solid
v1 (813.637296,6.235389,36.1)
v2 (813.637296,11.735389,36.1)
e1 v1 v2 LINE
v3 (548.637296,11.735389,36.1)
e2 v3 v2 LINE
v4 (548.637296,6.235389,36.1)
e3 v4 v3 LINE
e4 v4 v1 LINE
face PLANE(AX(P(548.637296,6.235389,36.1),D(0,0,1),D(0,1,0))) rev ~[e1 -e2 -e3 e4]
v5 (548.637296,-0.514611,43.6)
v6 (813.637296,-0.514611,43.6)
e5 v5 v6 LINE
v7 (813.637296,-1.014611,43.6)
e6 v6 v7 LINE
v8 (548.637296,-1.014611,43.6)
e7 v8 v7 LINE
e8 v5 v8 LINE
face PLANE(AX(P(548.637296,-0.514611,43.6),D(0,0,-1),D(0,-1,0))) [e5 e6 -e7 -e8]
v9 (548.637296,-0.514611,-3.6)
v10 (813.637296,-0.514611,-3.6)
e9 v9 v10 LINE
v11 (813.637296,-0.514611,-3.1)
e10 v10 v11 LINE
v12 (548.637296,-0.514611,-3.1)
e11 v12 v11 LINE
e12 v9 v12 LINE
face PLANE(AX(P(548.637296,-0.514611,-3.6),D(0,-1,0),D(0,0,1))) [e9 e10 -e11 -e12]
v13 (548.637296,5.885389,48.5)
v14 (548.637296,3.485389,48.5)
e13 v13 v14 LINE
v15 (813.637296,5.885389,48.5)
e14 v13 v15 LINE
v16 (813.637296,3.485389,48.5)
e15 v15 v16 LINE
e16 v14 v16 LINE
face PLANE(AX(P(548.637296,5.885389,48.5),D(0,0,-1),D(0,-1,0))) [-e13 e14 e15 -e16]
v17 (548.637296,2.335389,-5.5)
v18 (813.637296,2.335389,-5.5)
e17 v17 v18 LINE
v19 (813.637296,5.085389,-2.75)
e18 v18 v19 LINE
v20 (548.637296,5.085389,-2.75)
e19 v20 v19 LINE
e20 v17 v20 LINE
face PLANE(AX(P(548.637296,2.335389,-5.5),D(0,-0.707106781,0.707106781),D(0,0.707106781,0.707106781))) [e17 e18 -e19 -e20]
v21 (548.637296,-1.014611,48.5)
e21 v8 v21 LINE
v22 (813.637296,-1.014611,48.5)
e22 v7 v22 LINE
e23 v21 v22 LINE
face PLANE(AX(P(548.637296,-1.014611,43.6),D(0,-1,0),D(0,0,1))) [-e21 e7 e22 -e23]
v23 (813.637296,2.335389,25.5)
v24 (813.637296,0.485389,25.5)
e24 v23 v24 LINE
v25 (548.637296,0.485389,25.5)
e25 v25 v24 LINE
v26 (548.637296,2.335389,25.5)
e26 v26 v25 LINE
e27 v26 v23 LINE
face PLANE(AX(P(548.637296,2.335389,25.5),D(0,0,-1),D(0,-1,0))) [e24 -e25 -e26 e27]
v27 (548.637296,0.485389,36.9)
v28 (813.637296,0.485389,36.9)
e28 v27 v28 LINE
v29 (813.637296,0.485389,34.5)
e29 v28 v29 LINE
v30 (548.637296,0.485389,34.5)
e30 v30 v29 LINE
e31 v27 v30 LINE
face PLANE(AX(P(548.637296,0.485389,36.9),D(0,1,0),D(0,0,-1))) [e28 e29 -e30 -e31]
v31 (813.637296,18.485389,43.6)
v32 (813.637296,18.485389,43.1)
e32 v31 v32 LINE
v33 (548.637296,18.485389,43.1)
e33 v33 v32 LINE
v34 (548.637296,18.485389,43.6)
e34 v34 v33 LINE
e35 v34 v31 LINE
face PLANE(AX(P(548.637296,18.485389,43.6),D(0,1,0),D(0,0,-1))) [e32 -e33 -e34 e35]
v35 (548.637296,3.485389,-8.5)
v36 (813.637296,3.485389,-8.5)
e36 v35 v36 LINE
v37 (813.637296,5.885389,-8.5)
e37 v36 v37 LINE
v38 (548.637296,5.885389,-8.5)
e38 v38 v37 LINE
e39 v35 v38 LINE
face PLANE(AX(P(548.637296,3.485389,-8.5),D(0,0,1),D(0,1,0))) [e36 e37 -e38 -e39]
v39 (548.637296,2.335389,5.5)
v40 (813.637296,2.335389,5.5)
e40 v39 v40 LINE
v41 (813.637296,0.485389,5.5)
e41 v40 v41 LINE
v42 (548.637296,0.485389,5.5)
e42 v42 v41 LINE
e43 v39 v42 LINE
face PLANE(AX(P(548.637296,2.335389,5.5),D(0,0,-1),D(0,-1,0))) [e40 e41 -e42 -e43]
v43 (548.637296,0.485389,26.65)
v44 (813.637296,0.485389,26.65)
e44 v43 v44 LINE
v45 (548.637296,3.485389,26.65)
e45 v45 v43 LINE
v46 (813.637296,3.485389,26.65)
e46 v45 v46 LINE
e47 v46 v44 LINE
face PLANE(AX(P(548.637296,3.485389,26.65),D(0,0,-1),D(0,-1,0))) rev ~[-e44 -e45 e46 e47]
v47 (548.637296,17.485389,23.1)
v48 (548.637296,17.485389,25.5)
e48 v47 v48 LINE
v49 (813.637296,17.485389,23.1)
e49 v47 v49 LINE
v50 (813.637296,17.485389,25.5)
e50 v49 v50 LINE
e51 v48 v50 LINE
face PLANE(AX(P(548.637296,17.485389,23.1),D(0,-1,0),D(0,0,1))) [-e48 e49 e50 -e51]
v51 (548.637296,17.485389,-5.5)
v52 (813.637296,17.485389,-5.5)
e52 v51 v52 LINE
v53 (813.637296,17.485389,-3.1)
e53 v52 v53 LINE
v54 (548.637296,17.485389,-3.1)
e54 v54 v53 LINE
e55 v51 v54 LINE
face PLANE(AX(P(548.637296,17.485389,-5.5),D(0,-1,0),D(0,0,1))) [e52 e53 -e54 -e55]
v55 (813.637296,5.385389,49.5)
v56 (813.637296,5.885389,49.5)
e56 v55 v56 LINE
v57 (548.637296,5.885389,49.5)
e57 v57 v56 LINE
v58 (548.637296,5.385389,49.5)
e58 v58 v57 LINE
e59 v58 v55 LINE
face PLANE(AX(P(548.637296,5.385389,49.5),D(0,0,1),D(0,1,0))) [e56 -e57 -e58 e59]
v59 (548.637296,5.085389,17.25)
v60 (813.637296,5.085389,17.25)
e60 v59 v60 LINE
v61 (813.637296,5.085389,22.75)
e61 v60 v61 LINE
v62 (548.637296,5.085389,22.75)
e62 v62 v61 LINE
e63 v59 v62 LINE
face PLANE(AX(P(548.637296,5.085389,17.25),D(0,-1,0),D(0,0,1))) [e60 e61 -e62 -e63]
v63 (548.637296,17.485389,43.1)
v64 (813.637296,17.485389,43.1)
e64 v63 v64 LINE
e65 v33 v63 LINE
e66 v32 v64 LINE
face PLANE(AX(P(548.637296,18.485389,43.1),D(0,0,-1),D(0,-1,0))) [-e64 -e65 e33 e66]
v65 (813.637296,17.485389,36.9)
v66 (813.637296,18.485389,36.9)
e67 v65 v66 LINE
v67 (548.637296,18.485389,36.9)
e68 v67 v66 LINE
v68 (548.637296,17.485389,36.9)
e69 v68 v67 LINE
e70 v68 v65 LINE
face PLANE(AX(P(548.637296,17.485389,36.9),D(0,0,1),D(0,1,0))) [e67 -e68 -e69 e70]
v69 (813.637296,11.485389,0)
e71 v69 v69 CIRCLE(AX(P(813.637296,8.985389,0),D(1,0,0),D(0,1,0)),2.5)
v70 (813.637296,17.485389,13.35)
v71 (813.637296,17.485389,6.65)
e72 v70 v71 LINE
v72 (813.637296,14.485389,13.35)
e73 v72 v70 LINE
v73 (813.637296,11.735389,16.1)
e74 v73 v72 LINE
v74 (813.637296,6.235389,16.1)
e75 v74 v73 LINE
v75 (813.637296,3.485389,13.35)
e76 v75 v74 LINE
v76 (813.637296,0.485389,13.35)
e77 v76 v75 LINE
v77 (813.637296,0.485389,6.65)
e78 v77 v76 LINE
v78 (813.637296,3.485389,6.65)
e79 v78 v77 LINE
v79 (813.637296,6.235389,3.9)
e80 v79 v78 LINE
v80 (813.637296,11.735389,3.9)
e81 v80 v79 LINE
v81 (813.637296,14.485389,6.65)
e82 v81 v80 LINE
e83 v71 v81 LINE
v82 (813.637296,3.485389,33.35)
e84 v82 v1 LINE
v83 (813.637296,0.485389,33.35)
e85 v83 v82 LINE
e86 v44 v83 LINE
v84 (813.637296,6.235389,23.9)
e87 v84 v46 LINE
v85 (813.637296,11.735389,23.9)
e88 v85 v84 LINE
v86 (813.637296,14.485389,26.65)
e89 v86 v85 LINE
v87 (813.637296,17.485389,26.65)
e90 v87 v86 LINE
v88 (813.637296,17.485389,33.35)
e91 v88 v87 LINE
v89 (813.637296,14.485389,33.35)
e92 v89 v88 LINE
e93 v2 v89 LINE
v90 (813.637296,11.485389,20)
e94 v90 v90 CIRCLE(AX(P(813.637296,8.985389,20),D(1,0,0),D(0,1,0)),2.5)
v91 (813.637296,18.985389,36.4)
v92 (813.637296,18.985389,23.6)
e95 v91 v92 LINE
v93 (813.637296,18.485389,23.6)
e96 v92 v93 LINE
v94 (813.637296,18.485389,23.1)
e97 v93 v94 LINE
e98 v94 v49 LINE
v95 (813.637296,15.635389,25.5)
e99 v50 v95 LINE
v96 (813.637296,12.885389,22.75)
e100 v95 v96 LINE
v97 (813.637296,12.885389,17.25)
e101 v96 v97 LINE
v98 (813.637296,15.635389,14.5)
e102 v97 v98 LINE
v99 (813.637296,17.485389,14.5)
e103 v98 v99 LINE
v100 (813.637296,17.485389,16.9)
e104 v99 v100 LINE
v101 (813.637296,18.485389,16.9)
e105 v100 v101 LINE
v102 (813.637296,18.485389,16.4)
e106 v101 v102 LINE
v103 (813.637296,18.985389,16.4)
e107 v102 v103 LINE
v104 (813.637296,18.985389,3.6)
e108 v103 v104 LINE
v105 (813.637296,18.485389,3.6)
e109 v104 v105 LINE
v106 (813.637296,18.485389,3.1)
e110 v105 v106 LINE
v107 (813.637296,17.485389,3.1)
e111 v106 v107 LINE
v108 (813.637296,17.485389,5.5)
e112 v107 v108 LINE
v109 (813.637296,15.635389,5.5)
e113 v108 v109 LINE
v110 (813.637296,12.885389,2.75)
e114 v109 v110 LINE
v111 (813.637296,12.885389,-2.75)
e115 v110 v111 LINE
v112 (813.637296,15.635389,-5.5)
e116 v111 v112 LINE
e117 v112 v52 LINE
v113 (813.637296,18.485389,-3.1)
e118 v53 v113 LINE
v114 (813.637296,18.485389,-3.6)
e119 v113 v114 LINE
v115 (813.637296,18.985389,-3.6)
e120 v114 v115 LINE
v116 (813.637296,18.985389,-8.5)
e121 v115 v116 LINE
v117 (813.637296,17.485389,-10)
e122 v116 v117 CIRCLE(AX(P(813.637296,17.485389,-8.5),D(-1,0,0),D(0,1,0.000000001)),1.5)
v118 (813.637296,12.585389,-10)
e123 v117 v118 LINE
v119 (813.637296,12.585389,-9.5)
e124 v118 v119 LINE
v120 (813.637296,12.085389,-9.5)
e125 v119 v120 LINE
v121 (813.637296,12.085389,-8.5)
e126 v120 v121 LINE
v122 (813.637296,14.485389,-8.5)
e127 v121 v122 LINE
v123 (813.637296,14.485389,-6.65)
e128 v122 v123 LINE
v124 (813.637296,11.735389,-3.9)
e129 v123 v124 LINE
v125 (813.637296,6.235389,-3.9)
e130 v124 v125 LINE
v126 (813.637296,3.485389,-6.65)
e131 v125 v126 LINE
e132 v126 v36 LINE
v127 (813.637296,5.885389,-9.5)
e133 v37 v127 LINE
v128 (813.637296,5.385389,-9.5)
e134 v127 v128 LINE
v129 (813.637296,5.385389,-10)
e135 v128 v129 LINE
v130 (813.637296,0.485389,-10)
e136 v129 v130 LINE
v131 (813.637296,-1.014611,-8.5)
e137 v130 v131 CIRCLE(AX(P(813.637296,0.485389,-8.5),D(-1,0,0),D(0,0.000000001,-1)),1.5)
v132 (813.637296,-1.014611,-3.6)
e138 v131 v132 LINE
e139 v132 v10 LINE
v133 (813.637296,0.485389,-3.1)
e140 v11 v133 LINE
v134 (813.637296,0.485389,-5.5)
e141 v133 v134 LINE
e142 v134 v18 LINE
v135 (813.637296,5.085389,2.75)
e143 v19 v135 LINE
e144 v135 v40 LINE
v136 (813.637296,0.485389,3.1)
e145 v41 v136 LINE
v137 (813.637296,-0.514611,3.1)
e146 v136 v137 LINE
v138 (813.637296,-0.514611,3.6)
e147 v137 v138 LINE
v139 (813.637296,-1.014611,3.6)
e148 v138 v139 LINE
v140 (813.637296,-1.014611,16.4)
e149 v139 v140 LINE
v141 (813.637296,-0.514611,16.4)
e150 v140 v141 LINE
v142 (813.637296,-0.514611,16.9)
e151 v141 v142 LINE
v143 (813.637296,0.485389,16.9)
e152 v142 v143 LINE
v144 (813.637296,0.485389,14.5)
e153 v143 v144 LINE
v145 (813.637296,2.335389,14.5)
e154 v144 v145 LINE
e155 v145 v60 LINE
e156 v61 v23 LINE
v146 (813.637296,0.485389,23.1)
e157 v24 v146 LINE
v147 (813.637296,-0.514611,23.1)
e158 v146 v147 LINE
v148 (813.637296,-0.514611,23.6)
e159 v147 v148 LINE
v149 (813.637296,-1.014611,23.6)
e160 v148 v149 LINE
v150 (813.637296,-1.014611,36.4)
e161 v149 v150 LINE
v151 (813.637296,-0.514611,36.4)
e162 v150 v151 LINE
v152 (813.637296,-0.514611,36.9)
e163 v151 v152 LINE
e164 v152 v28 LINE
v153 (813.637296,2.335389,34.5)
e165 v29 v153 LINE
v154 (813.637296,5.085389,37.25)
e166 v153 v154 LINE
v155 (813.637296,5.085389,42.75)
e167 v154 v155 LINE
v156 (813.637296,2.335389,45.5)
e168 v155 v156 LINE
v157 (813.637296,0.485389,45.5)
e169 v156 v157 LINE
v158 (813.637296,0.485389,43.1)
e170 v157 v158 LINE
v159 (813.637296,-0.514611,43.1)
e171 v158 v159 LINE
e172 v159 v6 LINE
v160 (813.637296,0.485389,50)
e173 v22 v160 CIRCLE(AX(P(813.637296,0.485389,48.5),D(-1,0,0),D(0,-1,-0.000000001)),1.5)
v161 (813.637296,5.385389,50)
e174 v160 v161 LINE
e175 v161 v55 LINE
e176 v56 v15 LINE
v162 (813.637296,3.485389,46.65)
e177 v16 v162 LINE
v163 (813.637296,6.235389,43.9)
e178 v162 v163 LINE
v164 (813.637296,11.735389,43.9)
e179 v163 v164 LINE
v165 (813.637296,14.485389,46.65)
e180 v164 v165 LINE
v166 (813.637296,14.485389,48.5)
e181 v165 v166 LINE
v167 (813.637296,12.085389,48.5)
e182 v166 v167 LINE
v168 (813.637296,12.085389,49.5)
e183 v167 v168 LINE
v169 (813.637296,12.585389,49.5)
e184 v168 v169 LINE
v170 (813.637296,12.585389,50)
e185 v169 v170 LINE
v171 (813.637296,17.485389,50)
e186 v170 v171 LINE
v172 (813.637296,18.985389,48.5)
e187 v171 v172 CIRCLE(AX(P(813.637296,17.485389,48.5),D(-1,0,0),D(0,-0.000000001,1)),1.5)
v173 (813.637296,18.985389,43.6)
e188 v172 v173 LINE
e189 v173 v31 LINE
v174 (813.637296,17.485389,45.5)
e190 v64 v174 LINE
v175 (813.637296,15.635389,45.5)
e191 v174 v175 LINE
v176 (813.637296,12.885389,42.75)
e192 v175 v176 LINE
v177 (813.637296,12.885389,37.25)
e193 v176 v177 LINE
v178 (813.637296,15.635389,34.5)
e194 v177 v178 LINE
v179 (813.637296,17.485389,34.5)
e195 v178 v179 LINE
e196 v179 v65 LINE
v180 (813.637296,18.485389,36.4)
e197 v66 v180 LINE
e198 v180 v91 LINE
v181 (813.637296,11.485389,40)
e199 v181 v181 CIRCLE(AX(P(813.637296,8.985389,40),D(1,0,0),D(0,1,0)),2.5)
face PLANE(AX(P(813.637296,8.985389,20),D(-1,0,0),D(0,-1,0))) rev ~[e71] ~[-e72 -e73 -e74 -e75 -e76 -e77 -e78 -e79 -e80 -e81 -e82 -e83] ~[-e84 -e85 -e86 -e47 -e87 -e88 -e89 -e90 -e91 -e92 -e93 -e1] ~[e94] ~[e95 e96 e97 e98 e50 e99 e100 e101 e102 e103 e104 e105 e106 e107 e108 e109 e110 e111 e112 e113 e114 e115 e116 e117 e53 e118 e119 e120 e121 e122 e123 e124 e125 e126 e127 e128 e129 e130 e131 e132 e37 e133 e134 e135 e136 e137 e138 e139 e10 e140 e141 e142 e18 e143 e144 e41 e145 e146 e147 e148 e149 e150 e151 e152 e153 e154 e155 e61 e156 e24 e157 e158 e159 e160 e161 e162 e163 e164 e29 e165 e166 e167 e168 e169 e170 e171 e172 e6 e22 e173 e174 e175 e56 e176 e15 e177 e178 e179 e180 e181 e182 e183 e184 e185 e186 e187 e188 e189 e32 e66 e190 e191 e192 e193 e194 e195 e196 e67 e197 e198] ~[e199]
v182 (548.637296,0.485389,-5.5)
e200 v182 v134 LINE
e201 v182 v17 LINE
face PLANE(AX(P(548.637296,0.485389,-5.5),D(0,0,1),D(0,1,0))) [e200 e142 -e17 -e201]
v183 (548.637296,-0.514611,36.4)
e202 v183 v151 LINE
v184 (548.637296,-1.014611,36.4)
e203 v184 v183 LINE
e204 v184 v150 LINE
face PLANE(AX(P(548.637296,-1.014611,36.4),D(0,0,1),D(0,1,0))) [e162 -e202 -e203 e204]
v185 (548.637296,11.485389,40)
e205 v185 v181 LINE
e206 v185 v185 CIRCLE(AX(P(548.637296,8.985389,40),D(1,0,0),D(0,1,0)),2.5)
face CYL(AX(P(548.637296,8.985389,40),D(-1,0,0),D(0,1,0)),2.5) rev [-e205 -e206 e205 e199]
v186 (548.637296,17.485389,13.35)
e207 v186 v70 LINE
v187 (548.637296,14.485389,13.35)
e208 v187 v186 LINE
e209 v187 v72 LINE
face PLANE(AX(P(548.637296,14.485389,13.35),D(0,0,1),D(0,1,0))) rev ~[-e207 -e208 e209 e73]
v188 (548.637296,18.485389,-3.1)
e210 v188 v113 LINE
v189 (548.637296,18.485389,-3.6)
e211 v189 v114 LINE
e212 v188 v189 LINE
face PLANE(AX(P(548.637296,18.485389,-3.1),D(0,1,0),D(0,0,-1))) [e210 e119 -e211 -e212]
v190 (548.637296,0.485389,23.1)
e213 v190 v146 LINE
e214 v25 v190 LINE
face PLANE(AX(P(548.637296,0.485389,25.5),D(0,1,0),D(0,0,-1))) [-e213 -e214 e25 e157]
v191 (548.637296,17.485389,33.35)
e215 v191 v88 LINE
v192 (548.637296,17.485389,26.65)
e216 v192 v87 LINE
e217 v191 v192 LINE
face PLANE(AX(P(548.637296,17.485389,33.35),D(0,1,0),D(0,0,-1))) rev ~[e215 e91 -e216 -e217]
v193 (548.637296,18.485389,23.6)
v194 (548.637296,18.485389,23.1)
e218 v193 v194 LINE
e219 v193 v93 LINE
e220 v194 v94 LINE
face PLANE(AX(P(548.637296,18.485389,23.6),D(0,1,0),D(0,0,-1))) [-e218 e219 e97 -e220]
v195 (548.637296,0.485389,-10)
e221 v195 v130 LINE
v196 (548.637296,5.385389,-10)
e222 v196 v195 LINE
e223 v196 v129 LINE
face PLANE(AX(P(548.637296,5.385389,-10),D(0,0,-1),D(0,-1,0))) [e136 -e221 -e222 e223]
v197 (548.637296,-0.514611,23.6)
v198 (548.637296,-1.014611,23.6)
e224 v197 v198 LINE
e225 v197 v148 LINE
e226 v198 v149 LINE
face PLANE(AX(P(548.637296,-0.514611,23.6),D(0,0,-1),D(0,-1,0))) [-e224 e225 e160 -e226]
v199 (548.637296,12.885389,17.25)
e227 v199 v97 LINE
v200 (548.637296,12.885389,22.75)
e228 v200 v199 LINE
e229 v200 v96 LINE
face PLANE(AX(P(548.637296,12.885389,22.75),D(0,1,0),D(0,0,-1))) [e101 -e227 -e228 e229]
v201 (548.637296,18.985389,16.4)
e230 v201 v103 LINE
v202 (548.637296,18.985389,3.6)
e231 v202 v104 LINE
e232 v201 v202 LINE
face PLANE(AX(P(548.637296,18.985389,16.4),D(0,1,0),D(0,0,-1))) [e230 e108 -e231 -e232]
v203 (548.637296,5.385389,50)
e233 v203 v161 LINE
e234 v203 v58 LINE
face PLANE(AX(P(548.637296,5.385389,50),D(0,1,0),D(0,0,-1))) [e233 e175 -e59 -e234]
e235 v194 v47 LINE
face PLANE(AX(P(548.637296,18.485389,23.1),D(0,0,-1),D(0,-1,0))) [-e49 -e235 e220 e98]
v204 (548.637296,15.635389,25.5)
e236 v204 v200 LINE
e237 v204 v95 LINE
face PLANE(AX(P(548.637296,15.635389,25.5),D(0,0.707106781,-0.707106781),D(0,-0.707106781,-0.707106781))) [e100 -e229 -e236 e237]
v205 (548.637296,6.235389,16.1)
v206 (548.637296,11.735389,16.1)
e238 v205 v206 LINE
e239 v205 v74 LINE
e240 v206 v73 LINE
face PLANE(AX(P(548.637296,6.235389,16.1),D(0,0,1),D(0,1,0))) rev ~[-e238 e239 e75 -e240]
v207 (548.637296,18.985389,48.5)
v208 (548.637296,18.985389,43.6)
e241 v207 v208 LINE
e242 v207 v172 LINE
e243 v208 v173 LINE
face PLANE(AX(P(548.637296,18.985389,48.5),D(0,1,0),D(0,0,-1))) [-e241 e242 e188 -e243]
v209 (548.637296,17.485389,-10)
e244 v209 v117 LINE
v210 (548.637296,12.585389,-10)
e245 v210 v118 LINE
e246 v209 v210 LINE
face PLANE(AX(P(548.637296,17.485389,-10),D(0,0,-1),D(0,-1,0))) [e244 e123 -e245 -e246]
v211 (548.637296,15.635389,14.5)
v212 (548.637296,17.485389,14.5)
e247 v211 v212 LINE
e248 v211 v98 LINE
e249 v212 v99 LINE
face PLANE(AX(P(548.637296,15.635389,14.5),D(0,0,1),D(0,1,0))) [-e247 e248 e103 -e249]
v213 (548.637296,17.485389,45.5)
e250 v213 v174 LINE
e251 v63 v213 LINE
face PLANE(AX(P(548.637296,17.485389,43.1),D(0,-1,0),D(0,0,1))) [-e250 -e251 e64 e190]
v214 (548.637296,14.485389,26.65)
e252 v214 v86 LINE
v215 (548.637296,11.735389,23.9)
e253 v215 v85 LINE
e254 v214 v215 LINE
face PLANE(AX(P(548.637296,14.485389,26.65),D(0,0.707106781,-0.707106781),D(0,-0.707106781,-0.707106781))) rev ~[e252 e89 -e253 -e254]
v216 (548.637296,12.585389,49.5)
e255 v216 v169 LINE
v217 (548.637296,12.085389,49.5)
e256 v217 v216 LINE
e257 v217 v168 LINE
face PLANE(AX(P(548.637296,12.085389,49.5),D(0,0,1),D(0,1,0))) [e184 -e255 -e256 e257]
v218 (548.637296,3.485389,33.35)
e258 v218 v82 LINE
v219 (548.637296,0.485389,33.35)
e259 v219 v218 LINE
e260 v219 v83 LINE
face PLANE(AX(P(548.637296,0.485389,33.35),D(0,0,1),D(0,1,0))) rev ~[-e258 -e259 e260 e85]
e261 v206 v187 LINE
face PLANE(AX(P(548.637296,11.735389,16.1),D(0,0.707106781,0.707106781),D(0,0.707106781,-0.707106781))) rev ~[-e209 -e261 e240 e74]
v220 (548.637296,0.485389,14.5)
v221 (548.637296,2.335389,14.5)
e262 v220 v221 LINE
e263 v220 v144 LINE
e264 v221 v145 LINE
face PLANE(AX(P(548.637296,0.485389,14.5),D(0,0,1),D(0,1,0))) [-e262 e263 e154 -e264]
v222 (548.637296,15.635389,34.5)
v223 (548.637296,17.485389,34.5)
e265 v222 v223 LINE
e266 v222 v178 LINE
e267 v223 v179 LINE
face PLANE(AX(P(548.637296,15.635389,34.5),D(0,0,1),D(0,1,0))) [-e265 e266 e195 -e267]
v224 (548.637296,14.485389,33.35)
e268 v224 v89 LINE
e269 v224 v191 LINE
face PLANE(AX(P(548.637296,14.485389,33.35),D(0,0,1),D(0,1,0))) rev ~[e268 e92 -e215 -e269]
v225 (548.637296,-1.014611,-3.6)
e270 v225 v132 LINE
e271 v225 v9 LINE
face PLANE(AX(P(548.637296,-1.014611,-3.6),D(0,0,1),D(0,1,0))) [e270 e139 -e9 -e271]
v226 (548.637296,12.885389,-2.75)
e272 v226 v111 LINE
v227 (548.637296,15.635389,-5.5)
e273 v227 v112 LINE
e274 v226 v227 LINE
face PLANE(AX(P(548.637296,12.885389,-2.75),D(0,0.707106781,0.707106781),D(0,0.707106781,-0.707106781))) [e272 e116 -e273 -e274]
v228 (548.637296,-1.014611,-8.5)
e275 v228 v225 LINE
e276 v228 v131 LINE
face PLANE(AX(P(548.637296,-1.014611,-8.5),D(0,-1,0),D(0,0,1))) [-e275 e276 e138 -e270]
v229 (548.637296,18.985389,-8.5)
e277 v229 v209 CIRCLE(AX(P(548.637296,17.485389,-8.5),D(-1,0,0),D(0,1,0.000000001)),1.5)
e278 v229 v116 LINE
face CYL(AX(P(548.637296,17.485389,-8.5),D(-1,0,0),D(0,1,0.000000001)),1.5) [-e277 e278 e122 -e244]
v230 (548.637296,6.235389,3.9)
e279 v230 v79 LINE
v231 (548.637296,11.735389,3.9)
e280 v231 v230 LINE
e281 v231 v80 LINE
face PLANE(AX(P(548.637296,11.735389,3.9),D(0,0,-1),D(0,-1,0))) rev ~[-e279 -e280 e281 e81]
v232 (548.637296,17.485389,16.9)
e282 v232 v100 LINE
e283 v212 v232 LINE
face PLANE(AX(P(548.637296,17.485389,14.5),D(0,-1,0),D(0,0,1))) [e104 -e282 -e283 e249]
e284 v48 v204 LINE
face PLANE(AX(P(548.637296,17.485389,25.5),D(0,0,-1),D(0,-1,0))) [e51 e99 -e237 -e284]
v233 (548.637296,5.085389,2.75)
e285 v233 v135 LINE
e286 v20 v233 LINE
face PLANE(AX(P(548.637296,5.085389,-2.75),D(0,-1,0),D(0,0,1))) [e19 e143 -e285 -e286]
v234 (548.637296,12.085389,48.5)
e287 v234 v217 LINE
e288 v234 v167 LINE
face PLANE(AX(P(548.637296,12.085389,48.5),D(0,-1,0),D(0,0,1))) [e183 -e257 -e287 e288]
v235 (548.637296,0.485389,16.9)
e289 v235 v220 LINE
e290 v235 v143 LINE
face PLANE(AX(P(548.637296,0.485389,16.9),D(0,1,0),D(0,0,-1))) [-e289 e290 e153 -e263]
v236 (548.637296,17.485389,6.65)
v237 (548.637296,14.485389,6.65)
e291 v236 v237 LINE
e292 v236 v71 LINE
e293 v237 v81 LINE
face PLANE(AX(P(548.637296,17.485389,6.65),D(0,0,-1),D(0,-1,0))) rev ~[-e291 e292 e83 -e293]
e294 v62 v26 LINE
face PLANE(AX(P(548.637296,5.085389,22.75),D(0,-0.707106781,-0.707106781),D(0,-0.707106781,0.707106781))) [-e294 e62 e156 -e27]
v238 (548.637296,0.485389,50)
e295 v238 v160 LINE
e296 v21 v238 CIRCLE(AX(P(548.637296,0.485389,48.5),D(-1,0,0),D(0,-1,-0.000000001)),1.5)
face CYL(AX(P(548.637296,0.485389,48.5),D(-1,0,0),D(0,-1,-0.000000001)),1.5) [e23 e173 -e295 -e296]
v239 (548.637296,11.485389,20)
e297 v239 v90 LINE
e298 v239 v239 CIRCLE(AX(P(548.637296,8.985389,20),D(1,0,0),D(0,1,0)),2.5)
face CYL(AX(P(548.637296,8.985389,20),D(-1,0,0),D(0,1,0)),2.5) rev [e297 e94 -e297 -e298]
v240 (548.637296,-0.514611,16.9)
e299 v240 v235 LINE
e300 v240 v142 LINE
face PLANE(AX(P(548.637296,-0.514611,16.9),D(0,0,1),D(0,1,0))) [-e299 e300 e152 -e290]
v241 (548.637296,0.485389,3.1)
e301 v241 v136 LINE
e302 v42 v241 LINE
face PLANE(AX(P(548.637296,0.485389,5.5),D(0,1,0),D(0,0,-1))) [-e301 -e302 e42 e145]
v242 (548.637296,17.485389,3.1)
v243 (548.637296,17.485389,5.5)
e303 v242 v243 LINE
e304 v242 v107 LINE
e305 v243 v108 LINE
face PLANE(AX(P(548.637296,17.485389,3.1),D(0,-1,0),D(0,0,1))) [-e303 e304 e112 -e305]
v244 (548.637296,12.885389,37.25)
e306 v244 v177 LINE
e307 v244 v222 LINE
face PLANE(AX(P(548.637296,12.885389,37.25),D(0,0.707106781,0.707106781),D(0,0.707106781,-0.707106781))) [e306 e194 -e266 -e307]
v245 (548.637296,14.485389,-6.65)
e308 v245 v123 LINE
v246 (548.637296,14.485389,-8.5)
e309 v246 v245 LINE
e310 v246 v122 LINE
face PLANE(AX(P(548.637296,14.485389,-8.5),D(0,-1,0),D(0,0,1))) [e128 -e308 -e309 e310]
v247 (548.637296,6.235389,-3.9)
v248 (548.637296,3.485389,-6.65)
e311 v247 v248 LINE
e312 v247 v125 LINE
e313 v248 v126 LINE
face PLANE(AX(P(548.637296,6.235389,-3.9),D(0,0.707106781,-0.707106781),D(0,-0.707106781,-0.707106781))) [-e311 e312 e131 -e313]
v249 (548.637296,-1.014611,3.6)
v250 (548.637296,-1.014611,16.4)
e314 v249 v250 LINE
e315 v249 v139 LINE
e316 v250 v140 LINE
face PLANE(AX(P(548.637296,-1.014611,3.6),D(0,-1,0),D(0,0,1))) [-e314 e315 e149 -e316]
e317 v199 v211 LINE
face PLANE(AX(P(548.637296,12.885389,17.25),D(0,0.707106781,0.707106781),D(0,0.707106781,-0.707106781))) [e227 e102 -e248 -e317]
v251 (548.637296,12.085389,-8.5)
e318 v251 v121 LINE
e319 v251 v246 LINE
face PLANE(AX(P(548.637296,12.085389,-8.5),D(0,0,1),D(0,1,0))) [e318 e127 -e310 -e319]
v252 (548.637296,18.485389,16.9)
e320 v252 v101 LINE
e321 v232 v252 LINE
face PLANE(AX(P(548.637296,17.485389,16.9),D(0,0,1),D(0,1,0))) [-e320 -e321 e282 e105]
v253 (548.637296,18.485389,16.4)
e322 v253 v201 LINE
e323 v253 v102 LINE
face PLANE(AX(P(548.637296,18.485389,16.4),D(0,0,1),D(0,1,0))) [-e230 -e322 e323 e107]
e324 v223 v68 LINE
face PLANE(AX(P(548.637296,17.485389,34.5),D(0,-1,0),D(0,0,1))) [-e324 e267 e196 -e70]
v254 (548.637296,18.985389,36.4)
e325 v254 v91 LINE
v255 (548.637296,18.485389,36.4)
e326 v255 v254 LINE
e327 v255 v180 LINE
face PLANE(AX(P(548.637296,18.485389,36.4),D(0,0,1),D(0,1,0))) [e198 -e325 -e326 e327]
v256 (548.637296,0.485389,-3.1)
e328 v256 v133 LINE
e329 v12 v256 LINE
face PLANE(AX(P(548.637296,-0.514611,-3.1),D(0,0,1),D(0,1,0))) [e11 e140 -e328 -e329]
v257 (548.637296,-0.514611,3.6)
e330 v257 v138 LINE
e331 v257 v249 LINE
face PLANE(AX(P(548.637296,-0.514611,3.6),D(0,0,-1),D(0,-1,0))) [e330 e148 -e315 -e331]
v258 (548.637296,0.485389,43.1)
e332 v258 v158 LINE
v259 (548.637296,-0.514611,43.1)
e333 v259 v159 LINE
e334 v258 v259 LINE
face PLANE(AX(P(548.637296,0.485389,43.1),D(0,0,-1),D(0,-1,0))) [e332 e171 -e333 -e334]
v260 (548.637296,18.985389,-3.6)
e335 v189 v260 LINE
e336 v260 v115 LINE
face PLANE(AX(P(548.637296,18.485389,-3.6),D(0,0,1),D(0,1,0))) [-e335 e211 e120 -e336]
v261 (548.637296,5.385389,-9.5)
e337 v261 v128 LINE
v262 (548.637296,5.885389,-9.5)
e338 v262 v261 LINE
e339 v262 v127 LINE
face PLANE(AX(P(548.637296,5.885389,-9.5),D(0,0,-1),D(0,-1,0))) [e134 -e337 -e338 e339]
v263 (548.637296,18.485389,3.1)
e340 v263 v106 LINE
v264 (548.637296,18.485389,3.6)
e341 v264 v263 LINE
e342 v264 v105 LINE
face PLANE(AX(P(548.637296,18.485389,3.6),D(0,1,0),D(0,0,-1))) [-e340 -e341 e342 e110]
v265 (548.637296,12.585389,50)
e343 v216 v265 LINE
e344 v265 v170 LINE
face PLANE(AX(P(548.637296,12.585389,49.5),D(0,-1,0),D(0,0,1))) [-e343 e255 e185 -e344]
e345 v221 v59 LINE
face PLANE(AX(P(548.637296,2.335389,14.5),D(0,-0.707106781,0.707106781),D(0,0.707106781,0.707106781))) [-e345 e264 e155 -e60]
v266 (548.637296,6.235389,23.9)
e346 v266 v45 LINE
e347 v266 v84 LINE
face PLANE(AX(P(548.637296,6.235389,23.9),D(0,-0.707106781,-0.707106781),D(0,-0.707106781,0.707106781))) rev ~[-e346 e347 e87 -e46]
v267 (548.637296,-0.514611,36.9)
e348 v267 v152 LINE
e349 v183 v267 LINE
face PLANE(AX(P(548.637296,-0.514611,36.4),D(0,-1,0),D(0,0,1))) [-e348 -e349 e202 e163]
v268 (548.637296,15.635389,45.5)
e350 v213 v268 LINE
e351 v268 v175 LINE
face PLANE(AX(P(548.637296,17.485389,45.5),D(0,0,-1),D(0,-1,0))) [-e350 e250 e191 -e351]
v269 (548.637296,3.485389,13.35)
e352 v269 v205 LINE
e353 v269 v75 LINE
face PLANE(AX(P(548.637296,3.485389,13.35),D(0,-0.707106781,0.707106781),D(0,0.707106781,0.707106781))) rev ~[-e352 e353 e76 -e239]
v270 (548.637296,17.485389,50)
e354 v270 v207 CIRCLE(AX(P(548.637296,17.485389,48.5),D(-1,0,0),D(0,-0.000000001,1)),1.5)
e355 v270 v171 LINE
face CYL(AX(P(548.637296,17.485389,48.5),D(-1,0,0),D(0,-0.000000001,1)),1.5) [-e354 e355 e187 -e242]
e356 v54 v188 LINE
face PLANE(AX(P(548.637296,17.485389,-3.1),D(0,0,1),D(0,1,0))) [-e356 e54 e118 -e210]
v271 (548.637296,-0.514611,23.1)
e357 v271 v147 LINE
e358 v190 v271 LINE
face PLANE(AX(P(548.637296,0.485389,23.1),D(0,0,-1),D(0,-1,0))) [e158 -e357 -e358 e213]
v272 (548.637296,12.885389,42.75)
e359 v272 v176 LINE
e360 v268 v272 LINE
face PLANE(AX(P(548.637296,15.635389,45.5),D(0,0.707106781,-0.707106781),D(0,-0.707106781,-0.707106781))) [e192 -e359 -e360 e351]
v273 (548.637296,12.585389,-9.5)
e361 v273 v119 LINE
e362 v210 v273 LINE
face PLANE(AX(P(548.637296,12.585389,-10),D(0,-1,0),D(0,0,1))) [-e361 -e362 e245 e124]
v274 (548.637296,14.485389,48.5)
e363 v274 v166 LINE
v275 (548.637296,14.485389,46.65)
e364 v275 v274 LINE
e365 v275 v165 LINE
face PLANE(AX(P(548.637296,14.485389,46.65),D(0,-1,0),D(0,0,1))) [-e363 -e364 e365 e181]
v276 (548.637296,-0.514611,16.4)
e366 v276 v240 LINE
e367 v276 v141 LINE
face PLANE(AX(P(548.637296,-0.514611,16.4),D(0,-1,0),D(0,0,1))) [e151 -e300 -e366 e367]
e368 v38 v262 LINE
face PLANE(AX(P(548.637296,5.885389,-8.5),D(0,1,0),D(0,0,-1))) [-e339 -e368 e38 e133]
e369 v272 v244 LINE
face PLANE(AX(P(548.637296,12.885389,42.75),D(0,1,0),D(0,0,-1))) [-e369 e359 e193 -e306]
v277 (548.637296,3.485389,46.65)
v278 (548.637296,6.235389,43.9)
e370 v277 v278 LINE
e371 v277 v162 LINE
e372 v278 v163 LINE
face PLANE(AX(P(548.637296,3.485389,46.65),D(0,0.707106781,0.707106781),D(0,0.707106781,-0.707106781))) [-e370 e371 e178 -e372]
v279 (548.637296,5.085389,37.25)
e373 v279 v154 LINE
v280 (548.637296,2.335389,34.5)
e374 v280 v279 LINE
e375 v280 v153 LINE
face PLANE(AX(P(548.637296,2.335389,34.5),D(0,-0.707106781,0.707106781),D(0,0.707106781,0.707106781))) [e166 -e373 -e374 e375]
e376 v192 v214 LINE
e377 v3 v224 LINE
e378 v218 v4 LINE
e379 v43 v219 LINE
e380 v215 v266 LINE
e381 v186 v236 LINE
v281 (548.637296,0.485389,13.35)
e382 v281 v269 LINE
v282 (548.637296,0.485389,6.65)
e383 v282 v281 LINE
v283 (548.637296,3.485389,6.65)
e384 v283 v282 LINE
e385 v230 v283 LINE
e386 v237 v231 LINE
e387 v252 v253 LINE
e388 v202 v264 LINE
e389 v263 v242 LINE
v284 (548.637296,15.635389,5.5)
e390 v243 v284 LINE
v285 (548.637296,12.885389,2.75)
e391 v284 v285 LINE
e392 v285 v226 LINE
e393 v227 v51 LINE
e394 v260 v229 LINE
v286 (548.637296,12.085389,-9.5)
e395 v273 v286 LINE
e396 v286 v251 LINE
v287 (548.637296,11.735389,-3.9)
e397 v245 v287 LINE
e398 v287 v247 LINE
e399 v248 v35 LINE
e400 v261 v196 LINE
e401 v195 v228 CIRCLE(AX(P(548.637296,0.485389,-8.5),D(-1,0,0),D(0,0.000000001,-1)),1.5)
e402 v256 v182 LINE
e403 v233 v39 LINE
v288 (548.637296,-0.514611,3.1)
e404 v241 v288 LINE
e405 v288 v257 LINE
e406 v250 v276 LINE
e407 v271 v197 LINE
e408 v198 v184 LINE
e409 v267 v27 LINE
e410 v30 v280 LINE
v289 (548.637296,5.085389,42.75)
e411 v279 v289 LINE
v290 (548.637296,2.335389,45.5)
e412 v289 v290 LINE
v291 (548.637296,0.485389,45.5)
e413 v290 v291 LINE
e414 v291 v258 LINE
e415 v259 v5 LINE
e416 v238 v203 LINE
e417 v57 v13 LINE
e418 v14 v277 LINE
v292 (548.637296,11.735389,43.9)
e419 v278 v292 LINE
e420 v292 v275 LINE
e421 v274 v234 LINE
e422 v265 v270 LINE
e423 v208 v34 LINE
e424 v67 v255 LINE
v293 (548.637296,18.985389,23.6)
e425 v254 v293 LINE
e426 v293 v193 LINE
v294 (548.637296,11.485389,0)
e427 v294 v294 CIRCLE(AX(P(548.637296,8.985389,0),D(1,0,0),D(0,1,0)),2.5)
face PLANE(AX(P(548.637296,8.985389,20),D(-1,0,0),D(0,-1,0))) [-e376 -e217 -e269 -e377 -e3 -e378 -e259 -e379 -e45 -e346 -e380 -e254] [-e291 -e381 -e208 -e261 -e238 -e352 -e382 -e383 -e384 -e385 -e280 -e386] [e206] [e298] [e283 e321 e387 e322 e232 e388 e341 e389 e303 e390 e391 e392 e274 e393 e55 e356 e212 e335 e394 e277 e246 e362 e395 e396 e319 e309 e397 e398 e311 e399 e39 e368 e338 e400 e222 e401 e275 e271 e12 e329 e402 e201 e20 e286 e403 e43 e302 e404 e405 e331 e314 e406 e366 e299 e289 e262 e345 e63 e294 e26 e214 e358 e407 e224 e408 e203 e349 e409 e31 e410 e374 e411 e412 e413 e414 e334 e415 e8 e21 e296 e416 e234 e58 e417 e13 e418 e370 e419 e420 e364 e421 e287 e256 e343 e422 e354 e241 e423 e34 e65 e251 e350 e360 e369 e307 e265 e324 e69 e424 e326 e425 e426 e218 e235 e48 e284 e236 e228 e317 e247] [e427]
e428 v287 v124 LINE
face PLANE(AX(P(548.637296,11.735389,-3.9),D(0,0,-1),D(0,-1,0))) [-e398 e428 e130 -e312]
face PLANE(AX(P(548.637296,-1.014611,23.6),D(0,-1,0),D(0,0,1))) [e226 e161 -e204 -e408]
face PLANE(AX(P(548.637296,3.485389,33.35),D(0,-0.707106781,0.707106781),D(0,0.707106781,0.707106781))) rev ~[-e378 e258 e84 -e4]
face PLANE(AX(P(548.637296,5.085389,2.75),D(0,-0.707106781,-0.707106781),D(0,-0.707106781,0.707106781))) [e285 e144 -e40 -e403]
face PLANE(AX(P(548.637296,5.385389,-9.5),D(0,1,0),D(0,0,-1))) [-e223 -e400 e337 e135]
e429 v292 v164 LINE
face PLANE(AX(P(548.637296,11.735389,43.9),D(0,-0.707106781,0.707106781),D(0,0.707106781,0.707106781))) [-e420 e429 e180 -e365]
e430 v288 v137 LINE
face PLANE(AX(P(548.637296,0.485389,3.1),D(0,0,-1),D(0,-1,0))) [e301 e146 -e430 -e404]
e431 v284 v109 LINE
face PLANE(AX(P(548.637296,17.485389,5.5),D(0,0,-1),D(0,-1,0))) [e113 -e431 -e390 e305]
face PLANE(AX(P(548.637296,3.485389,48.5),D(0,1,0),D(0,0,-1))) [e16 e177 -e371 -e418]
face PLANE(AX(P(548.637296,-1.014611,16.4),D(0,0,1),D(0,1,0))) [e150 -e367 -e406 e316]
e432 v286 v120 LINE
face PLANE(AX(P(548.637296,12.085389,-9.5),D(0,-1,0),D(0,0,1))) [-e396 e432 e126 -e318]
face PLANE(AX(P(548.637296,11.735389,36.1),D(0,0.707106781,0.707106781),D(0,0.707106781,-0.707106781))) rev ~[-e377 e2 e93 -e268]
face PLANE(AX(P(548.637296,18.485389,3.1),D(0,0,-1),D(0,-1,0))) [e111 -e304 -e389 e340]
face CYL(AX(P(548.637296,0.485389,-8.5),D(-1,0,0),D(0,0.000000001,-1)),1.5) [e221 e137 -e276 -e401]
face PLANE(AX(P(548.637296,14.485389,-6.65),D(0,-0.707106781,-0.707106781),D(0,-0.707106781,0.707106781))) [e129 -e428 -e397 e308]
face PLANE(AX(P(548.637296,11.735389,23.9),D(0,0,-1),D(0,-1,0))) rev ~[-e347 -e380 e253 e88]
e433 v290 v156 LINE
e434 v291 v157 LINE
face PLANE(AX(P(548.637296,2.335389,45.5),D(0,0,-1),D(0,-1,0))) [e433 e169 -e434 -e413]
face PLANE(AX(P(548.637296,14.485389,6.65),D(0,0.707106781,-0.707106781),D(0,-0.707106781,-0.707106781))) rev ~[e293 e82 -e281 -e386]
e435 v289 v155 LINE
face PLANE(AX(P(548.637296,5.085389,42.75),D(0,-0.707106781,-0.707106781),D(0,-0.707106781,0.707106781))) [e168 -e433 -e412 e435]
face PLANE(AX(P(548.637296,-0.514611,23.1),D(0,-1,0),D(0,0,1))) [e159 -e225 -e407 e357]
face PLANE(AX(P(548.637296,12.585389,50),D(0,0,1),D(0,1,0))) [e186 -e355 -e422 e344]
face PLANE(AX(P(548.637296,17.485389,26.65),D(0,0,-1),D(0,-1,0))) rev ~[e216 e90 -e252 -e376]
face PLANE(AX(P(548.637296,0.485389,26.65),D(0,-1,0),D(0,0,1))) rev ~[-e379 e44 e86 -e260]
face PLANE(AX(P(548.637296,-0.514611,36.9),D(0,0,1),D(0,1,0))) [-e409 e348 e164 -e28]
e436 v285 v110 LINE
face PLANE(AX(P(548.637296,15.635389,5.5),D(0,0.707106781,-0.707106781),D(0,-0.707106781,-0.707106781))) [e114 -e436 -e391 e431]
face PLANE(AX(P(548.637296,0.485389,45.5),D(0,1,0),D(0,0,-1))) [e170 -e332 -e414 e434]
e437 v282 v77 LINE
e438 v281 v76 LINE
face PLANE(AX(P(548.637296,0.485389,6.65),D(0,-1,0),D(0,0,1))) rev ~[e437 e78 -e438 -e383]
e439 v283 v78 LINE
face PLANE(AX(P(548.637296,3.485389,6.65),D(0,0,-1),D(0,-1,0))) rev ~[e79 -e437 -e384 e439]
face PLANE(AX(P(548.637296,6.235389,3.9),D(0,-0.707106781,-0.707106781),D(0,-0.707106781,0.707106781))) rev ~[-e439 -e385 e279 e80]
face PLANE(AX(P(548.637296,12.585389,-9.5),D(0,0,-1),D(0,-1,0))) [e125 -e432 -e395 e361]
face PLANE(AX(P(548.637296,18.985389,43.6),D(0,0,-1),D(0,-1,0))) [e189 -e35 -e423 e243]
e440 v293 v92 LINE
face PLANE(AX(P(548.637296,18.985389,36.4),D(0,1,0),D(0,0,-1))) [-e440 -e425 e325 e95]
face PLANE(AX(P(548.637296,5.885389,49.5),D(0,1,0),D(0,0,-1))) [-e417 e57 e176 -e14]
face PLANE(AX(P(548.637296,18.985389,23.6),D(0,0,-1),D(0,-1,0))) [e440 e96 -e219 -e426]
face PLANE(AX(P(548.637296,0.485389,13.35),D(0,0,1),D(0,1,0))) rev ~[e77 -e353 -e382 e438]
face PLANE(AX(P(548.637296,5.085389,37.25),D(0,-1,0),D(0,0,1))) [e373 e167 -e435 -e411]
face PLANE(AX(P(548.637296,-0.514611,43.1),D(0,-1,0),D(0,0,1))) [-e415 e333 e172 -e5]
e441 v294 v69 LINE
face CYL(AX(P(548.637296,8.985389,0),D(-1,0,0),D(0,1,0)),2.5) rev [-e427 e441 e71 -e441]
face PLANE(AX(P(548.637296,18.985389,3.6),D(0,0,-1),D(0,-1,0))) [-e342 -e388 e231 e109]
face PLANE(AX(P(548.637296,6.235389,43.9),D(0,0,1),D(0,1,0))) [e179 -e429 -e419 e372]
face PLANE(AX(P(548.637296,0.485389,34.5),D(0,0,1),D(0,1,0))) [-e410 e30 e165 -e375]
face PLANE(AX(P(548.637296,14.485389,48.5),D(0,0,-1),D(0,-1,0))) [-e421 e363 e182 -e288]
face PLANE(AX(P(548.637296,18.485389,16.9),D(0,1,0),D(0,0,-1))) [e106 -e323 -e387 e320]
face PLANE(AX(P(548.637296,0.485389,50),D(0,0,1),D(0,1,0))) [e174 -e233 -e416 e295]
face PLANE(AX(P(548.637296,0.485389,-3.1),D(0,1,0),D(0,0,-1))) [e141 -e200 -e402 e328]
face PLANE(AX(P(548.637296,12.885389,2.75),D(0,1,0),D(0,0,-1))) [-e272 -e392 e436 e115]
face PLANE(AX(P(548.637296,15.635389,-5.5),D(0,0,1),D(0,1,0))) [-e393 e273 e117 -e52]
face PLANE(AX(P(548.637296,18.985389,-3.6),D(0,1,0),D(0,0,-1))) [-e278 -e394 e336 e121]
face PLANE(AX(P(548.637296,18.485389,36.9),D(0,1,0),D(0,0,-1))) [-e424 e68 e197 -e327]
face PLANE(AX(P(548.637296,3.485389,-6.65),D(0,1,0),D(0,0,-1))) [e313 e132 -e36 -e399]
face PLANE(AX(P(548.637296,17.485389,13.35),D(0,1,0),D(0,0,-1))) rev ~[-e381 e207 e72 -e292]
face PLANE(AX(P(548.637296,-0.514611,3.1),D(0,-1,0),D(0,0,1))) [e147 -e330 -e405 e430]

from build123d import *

# Parameters (mm, degrees)
SKETCH1_R                = 2.5
F_20_X_20_X_R1_5_1_DEPTH = 265


with BuildPart() as part:
    # Sketch1 → 铝型材 20 X 20 X R1.5(1) (new body)
    with BuildSketch(Plane(origin=(548.637296324, 8.985389246, 0), x_dir=(0, 1, 0), z_dir=(1, 0, 0))):
        with BuildLine():
            Line((-10, -3.6), (-9.5, -3.6))
            Line((-9.5, -3.6), (-9.5, -3.1))
            Line((-9.5, -3.1), (-8.5, -3.1))
            Line((-8.5, -3.1), (-8.5, -5.5))
            Line((-8.5, -5.5), (-6.65, -5.5))
            Line((-6.65, -5.5), (-3.9, -2.75))
            Line((-3.9, -2.75), (-3.9, 2.75))
            Line((-3.9, 2.75), (-6.65, 5.5))
            Line((-6.65, 5.5), (-8.5, 5.5))
            Line((-8.5, 5.5), (-8.5, 3.1))
            Line((-8.5, 3.1), (-9.5, 3.1))
            Line((-9.5, 3.1), (-9.5, 3.6))
            Line((-9.5, 3.6), (-10, 3.6))
            Line((-10, 3.6), (-10, 8.5))
            Line((-10, 8.5), (-10, 11.5))
            Line((-10, 11.5), (-10, 16.4))
            Line((-10, 16.4), (-9.5, 16.4))
            Line((-9.5, 16.4), (-9.5, 16.9))
            Line((-9.5, 16.9), (-8.5, 16.9))
            Line((-8.5, 16.9), (-8.5, 14.5))
            Line((-8.5, 14.5), (-6.65, 14.5))
            Line((-6.65, 14.5), (-3.9, 17.25))
            Line((-3.9, 17.25), (-3.9, 22.75))
            Line((-3.9, 22.75), (-6.65, 25.5))
            Line((-6.65, 25.5), (-8.5, 25.5))
            Line((-8.5, 25.5), (-8.5, 23.1))
            Line((-8.5, 23.1), (-9.5, 23.1))
            Line((-9.5, 23.1), (-9.5, 23.6))
            Line((-9.5, 23.6), (-10, 23.6))
            Line((-10, 23.6), (-10, 28.5))
            Line((-10, 28.5), (-10, 31.5))
            Line((-10, 31.5), (-10, 36.4))
            Line((-10, 36.4), (-9.5, 36.4))
            Line((-9.5, 36.4), (-9.5, 36.9))
            Line((-9.5, 36.9), (-8.5, 36.9))
            Line((-8.5, 36.9), (-8.5, 34.5))
            Line((-8.5, 34.5), (-6.65, 34.5))
            Line((-6.65, 34.5), (-3.9, 37.25))
            Line((-3.9, 37.25), (-3.9, 42.75))
            Line((-3.9, 42.75), (-6.65, 45.5))
            Line((-6.65, 45.5), (-8.5, 45.5))
            Line((-8.5, 45.5), (-8.5, 43.1))
            Line((-8.5, 43.1), (-9.5, 43.1))
            Line((-9.5, 43.1), (-9.5, 43.6))
            Line((-9.5, 43.6), (-10, 43.6))
            Line((-10, 43.6), (-10, 48.5))
            ThreePointArc((-10, 48.5), (-9.560660172, 49.560660172), (-8.5, 50))
            Line((-8.5, 50), (-3.6, 50))
            Line((-3.6, 50), (-3.6, 49.5))
            Line((-3.6, 49.5), (-3.1, 49.5))
            Line((-3.1, 49.5), (-3.1, 48.5))
            Line((-3.1, 48.5), (-5.5, 48.5))
            Line((-5.5, 48.5), (-5.5, 46.65))
            Line((-5.5, 46.65), (-2.75, 43.9))
            Line((-2.75, 43.9), (2.75, 43.9))
            Line((2.75, 43.9), (5.5, 46.65))
            Line((5.5, 46.65), (5.5, 48.5))
            Line((5.5, 48.5), (3.1, 48.5))
            Line((3.1, 48.5), (3.1, 49.5))
            Line((3.1, 49.5), (3.6, 49.5))
            Line((3.6, 49.5), (3.6, 50))
            Line((3.6, 50), (8.5, 50))
            ThreePointArc((8.5, 50), (9.560660172, 49.560660172), (10, 48.5))
            Line((10, 48.5), (10, 43.6))
            Line((10, 43.6), (9.5, 43.6))
            Line((9.5, 43.6), (9.5, 43.1))
            Line((9.5, 43.1), (8.5, 43.1))
            Line((8.5, 43.1), (8.5, 45.5))
            Line((8.5, 45.5), (6.65, 45.5))
            Line((6.65, 45.5), (3.9, 42.75))
            Line((3.9, 42.75), (3.9, 37.25))
            Line((3.9, 37.25), (6.65, 34.5))
            Line((6.65, 34.5), (8.5, 34.5))
            Line((8.5, 34.5), (8.5, 36.9))
            Line((8.5, 36.9), (9.5, 36.9))
            Line((9.5, 36.9), (9.5, 36.4))
            Line((9.5, 36.4), (10, 36.4))
            Line((10, 36.4), (10, 31.5))
            Line((10, 31.5), (10, 28.5))
            Line((10, 28.5), (10, 23.6))
            Line((10, 23.6), (9.5, 23.6))
            Line((9.5, 23.6), (9.5, 23.1))
            Line((9.5, 23.1), (8.5, 23.1))
            Line((8.5, 23.1), (8.5, 25.5))
            Line((8.5, 25.5), (6.65, 25.5))
            Line((6.65, 25.5), (3.9, 22.75))
            Line((3.9, 22.75), (3.9, 17.25))
            Line((3.9, 17.25), (6.65, 14.5))
            Line((6.65, 14.5), (8.5, 14.5))
            Line((8.5, 14.5), (8.5, 16.9))
            Line((8.5, 16.9), (9.5, 16.9))
            Line((9.5, 16.9), (9.5, 16.4))
            Line((9.5, 16.4), (10, 16.4))
            Line((10, 16.4), (10, 11.5))
            Line((10, 11.5), (10, 8.5))
            Line((10, 8.5), (10, 3.6))
            Line((10, 3.6), (9.5, 3.6))
            Line((9.5, 3.6), (9.5, 3.1))
            Line((9.5, 3.1), (8.5, 3.1))
            Line((8.5, 3.1), (8.5, 5.5))
            Line((8.5, 5.5), (6.65, 5.5))
            Line((6.65, 5.5), (3.9, 2.75))
            Line((3.9, 2.75), (3.9, -2.75))
            Line((3.9, -2.75), (6.65, -5.5))
            Line((6.65, -5.5), (8.5, -5.5))
            Line((8.5, -5.5), (8.5, -3.1))
            Line((8.5, -3.1), (9.5, -3.1))
            Line((9.5, -3.1), (9.5, -3.6))
            Line((9.5, -3.6), (10, -3.6))
            Line((10, -3.6), (10, -8.5))
            ThreePointArc((10, -8.5), (9.560660172, -9.560660172), (8.5, -10))
            Line((8.5, -10), (3.6, -10))
            Line((3.6, -10), (3.6, -9.5))
            Line((3.6, -9.5), (3.1, -9.5))
            Line((3.1, -9.5), (3.1, -8.5))
            Line((3.1, -8.5), (5.5, -8.5))
            Line((5.5, -8.5), (5.5, -6.65))
            Line((5.5, -6.65), (2.75, -3.9))
            Line((2.75, -3.9), (-2.75, -3.9))
            Line((-2.75, -3.9), (-5.5, -6.65))
            Line((-5.5, -6.65), (-5.5, -8.5))
            Line((-5.5, -8.5), (-3.1, -8.5))
            Line((-3.1, -8.5), (-3.1, -9.5))
            Line((-3.1, -9.5), (-3.6, -9.5))
            Line((-3.6, -9.5), (-3.6, -10))
            Line((-3.6, -10), (-8.5, -10))
            ThreePointArc((-8.5, -10), (-9.560660172, -9.560660172), (-10, -8.5))
            Line((-10, -8.5), (-10, -3.6))
        make_face()
        Circle(SKETCH1_R, mode=Mode.SUBTRACT)
        with Locations((0, 20)):
            Circle(SKETCH1_R, mode=Mode.SUBTRACT)
        with Locations((0, 40)):
            Circle(SKETCH1_R, mode=Mode.SUBTRACT)
        Polygon((-5.5, 6.65), (-8.5, 6.65), (-8.5, 13.35), (-5.5, 13.35), (-2.75, 16.1), (2.75, 16.1), (5.5, 13.35), (8.5, 13.35), (8.5, 6.65), (5.5, 6.65), (2.75, 3.9), (-2.75, 3.9), align=None, mode=Mode.SUBTRACT)
        Polygon((-5.5, 26.65), (-8.5, 26.65), (-8.5, 33.35), (-5.5, 33.35), (-2.75, 36.1), (2.75, 36.1), (5.5, 33.35), (8.5, 33.35), (8.5, 26.65), (5.5, 26.65), (2.75, 23.9), (-2.75, 23.9), align=None, mode=Mode.SUBTRACT)
    extrude(amount=F_20_X_20_X_R1_5_1_DEPTH)


solid = part.part
